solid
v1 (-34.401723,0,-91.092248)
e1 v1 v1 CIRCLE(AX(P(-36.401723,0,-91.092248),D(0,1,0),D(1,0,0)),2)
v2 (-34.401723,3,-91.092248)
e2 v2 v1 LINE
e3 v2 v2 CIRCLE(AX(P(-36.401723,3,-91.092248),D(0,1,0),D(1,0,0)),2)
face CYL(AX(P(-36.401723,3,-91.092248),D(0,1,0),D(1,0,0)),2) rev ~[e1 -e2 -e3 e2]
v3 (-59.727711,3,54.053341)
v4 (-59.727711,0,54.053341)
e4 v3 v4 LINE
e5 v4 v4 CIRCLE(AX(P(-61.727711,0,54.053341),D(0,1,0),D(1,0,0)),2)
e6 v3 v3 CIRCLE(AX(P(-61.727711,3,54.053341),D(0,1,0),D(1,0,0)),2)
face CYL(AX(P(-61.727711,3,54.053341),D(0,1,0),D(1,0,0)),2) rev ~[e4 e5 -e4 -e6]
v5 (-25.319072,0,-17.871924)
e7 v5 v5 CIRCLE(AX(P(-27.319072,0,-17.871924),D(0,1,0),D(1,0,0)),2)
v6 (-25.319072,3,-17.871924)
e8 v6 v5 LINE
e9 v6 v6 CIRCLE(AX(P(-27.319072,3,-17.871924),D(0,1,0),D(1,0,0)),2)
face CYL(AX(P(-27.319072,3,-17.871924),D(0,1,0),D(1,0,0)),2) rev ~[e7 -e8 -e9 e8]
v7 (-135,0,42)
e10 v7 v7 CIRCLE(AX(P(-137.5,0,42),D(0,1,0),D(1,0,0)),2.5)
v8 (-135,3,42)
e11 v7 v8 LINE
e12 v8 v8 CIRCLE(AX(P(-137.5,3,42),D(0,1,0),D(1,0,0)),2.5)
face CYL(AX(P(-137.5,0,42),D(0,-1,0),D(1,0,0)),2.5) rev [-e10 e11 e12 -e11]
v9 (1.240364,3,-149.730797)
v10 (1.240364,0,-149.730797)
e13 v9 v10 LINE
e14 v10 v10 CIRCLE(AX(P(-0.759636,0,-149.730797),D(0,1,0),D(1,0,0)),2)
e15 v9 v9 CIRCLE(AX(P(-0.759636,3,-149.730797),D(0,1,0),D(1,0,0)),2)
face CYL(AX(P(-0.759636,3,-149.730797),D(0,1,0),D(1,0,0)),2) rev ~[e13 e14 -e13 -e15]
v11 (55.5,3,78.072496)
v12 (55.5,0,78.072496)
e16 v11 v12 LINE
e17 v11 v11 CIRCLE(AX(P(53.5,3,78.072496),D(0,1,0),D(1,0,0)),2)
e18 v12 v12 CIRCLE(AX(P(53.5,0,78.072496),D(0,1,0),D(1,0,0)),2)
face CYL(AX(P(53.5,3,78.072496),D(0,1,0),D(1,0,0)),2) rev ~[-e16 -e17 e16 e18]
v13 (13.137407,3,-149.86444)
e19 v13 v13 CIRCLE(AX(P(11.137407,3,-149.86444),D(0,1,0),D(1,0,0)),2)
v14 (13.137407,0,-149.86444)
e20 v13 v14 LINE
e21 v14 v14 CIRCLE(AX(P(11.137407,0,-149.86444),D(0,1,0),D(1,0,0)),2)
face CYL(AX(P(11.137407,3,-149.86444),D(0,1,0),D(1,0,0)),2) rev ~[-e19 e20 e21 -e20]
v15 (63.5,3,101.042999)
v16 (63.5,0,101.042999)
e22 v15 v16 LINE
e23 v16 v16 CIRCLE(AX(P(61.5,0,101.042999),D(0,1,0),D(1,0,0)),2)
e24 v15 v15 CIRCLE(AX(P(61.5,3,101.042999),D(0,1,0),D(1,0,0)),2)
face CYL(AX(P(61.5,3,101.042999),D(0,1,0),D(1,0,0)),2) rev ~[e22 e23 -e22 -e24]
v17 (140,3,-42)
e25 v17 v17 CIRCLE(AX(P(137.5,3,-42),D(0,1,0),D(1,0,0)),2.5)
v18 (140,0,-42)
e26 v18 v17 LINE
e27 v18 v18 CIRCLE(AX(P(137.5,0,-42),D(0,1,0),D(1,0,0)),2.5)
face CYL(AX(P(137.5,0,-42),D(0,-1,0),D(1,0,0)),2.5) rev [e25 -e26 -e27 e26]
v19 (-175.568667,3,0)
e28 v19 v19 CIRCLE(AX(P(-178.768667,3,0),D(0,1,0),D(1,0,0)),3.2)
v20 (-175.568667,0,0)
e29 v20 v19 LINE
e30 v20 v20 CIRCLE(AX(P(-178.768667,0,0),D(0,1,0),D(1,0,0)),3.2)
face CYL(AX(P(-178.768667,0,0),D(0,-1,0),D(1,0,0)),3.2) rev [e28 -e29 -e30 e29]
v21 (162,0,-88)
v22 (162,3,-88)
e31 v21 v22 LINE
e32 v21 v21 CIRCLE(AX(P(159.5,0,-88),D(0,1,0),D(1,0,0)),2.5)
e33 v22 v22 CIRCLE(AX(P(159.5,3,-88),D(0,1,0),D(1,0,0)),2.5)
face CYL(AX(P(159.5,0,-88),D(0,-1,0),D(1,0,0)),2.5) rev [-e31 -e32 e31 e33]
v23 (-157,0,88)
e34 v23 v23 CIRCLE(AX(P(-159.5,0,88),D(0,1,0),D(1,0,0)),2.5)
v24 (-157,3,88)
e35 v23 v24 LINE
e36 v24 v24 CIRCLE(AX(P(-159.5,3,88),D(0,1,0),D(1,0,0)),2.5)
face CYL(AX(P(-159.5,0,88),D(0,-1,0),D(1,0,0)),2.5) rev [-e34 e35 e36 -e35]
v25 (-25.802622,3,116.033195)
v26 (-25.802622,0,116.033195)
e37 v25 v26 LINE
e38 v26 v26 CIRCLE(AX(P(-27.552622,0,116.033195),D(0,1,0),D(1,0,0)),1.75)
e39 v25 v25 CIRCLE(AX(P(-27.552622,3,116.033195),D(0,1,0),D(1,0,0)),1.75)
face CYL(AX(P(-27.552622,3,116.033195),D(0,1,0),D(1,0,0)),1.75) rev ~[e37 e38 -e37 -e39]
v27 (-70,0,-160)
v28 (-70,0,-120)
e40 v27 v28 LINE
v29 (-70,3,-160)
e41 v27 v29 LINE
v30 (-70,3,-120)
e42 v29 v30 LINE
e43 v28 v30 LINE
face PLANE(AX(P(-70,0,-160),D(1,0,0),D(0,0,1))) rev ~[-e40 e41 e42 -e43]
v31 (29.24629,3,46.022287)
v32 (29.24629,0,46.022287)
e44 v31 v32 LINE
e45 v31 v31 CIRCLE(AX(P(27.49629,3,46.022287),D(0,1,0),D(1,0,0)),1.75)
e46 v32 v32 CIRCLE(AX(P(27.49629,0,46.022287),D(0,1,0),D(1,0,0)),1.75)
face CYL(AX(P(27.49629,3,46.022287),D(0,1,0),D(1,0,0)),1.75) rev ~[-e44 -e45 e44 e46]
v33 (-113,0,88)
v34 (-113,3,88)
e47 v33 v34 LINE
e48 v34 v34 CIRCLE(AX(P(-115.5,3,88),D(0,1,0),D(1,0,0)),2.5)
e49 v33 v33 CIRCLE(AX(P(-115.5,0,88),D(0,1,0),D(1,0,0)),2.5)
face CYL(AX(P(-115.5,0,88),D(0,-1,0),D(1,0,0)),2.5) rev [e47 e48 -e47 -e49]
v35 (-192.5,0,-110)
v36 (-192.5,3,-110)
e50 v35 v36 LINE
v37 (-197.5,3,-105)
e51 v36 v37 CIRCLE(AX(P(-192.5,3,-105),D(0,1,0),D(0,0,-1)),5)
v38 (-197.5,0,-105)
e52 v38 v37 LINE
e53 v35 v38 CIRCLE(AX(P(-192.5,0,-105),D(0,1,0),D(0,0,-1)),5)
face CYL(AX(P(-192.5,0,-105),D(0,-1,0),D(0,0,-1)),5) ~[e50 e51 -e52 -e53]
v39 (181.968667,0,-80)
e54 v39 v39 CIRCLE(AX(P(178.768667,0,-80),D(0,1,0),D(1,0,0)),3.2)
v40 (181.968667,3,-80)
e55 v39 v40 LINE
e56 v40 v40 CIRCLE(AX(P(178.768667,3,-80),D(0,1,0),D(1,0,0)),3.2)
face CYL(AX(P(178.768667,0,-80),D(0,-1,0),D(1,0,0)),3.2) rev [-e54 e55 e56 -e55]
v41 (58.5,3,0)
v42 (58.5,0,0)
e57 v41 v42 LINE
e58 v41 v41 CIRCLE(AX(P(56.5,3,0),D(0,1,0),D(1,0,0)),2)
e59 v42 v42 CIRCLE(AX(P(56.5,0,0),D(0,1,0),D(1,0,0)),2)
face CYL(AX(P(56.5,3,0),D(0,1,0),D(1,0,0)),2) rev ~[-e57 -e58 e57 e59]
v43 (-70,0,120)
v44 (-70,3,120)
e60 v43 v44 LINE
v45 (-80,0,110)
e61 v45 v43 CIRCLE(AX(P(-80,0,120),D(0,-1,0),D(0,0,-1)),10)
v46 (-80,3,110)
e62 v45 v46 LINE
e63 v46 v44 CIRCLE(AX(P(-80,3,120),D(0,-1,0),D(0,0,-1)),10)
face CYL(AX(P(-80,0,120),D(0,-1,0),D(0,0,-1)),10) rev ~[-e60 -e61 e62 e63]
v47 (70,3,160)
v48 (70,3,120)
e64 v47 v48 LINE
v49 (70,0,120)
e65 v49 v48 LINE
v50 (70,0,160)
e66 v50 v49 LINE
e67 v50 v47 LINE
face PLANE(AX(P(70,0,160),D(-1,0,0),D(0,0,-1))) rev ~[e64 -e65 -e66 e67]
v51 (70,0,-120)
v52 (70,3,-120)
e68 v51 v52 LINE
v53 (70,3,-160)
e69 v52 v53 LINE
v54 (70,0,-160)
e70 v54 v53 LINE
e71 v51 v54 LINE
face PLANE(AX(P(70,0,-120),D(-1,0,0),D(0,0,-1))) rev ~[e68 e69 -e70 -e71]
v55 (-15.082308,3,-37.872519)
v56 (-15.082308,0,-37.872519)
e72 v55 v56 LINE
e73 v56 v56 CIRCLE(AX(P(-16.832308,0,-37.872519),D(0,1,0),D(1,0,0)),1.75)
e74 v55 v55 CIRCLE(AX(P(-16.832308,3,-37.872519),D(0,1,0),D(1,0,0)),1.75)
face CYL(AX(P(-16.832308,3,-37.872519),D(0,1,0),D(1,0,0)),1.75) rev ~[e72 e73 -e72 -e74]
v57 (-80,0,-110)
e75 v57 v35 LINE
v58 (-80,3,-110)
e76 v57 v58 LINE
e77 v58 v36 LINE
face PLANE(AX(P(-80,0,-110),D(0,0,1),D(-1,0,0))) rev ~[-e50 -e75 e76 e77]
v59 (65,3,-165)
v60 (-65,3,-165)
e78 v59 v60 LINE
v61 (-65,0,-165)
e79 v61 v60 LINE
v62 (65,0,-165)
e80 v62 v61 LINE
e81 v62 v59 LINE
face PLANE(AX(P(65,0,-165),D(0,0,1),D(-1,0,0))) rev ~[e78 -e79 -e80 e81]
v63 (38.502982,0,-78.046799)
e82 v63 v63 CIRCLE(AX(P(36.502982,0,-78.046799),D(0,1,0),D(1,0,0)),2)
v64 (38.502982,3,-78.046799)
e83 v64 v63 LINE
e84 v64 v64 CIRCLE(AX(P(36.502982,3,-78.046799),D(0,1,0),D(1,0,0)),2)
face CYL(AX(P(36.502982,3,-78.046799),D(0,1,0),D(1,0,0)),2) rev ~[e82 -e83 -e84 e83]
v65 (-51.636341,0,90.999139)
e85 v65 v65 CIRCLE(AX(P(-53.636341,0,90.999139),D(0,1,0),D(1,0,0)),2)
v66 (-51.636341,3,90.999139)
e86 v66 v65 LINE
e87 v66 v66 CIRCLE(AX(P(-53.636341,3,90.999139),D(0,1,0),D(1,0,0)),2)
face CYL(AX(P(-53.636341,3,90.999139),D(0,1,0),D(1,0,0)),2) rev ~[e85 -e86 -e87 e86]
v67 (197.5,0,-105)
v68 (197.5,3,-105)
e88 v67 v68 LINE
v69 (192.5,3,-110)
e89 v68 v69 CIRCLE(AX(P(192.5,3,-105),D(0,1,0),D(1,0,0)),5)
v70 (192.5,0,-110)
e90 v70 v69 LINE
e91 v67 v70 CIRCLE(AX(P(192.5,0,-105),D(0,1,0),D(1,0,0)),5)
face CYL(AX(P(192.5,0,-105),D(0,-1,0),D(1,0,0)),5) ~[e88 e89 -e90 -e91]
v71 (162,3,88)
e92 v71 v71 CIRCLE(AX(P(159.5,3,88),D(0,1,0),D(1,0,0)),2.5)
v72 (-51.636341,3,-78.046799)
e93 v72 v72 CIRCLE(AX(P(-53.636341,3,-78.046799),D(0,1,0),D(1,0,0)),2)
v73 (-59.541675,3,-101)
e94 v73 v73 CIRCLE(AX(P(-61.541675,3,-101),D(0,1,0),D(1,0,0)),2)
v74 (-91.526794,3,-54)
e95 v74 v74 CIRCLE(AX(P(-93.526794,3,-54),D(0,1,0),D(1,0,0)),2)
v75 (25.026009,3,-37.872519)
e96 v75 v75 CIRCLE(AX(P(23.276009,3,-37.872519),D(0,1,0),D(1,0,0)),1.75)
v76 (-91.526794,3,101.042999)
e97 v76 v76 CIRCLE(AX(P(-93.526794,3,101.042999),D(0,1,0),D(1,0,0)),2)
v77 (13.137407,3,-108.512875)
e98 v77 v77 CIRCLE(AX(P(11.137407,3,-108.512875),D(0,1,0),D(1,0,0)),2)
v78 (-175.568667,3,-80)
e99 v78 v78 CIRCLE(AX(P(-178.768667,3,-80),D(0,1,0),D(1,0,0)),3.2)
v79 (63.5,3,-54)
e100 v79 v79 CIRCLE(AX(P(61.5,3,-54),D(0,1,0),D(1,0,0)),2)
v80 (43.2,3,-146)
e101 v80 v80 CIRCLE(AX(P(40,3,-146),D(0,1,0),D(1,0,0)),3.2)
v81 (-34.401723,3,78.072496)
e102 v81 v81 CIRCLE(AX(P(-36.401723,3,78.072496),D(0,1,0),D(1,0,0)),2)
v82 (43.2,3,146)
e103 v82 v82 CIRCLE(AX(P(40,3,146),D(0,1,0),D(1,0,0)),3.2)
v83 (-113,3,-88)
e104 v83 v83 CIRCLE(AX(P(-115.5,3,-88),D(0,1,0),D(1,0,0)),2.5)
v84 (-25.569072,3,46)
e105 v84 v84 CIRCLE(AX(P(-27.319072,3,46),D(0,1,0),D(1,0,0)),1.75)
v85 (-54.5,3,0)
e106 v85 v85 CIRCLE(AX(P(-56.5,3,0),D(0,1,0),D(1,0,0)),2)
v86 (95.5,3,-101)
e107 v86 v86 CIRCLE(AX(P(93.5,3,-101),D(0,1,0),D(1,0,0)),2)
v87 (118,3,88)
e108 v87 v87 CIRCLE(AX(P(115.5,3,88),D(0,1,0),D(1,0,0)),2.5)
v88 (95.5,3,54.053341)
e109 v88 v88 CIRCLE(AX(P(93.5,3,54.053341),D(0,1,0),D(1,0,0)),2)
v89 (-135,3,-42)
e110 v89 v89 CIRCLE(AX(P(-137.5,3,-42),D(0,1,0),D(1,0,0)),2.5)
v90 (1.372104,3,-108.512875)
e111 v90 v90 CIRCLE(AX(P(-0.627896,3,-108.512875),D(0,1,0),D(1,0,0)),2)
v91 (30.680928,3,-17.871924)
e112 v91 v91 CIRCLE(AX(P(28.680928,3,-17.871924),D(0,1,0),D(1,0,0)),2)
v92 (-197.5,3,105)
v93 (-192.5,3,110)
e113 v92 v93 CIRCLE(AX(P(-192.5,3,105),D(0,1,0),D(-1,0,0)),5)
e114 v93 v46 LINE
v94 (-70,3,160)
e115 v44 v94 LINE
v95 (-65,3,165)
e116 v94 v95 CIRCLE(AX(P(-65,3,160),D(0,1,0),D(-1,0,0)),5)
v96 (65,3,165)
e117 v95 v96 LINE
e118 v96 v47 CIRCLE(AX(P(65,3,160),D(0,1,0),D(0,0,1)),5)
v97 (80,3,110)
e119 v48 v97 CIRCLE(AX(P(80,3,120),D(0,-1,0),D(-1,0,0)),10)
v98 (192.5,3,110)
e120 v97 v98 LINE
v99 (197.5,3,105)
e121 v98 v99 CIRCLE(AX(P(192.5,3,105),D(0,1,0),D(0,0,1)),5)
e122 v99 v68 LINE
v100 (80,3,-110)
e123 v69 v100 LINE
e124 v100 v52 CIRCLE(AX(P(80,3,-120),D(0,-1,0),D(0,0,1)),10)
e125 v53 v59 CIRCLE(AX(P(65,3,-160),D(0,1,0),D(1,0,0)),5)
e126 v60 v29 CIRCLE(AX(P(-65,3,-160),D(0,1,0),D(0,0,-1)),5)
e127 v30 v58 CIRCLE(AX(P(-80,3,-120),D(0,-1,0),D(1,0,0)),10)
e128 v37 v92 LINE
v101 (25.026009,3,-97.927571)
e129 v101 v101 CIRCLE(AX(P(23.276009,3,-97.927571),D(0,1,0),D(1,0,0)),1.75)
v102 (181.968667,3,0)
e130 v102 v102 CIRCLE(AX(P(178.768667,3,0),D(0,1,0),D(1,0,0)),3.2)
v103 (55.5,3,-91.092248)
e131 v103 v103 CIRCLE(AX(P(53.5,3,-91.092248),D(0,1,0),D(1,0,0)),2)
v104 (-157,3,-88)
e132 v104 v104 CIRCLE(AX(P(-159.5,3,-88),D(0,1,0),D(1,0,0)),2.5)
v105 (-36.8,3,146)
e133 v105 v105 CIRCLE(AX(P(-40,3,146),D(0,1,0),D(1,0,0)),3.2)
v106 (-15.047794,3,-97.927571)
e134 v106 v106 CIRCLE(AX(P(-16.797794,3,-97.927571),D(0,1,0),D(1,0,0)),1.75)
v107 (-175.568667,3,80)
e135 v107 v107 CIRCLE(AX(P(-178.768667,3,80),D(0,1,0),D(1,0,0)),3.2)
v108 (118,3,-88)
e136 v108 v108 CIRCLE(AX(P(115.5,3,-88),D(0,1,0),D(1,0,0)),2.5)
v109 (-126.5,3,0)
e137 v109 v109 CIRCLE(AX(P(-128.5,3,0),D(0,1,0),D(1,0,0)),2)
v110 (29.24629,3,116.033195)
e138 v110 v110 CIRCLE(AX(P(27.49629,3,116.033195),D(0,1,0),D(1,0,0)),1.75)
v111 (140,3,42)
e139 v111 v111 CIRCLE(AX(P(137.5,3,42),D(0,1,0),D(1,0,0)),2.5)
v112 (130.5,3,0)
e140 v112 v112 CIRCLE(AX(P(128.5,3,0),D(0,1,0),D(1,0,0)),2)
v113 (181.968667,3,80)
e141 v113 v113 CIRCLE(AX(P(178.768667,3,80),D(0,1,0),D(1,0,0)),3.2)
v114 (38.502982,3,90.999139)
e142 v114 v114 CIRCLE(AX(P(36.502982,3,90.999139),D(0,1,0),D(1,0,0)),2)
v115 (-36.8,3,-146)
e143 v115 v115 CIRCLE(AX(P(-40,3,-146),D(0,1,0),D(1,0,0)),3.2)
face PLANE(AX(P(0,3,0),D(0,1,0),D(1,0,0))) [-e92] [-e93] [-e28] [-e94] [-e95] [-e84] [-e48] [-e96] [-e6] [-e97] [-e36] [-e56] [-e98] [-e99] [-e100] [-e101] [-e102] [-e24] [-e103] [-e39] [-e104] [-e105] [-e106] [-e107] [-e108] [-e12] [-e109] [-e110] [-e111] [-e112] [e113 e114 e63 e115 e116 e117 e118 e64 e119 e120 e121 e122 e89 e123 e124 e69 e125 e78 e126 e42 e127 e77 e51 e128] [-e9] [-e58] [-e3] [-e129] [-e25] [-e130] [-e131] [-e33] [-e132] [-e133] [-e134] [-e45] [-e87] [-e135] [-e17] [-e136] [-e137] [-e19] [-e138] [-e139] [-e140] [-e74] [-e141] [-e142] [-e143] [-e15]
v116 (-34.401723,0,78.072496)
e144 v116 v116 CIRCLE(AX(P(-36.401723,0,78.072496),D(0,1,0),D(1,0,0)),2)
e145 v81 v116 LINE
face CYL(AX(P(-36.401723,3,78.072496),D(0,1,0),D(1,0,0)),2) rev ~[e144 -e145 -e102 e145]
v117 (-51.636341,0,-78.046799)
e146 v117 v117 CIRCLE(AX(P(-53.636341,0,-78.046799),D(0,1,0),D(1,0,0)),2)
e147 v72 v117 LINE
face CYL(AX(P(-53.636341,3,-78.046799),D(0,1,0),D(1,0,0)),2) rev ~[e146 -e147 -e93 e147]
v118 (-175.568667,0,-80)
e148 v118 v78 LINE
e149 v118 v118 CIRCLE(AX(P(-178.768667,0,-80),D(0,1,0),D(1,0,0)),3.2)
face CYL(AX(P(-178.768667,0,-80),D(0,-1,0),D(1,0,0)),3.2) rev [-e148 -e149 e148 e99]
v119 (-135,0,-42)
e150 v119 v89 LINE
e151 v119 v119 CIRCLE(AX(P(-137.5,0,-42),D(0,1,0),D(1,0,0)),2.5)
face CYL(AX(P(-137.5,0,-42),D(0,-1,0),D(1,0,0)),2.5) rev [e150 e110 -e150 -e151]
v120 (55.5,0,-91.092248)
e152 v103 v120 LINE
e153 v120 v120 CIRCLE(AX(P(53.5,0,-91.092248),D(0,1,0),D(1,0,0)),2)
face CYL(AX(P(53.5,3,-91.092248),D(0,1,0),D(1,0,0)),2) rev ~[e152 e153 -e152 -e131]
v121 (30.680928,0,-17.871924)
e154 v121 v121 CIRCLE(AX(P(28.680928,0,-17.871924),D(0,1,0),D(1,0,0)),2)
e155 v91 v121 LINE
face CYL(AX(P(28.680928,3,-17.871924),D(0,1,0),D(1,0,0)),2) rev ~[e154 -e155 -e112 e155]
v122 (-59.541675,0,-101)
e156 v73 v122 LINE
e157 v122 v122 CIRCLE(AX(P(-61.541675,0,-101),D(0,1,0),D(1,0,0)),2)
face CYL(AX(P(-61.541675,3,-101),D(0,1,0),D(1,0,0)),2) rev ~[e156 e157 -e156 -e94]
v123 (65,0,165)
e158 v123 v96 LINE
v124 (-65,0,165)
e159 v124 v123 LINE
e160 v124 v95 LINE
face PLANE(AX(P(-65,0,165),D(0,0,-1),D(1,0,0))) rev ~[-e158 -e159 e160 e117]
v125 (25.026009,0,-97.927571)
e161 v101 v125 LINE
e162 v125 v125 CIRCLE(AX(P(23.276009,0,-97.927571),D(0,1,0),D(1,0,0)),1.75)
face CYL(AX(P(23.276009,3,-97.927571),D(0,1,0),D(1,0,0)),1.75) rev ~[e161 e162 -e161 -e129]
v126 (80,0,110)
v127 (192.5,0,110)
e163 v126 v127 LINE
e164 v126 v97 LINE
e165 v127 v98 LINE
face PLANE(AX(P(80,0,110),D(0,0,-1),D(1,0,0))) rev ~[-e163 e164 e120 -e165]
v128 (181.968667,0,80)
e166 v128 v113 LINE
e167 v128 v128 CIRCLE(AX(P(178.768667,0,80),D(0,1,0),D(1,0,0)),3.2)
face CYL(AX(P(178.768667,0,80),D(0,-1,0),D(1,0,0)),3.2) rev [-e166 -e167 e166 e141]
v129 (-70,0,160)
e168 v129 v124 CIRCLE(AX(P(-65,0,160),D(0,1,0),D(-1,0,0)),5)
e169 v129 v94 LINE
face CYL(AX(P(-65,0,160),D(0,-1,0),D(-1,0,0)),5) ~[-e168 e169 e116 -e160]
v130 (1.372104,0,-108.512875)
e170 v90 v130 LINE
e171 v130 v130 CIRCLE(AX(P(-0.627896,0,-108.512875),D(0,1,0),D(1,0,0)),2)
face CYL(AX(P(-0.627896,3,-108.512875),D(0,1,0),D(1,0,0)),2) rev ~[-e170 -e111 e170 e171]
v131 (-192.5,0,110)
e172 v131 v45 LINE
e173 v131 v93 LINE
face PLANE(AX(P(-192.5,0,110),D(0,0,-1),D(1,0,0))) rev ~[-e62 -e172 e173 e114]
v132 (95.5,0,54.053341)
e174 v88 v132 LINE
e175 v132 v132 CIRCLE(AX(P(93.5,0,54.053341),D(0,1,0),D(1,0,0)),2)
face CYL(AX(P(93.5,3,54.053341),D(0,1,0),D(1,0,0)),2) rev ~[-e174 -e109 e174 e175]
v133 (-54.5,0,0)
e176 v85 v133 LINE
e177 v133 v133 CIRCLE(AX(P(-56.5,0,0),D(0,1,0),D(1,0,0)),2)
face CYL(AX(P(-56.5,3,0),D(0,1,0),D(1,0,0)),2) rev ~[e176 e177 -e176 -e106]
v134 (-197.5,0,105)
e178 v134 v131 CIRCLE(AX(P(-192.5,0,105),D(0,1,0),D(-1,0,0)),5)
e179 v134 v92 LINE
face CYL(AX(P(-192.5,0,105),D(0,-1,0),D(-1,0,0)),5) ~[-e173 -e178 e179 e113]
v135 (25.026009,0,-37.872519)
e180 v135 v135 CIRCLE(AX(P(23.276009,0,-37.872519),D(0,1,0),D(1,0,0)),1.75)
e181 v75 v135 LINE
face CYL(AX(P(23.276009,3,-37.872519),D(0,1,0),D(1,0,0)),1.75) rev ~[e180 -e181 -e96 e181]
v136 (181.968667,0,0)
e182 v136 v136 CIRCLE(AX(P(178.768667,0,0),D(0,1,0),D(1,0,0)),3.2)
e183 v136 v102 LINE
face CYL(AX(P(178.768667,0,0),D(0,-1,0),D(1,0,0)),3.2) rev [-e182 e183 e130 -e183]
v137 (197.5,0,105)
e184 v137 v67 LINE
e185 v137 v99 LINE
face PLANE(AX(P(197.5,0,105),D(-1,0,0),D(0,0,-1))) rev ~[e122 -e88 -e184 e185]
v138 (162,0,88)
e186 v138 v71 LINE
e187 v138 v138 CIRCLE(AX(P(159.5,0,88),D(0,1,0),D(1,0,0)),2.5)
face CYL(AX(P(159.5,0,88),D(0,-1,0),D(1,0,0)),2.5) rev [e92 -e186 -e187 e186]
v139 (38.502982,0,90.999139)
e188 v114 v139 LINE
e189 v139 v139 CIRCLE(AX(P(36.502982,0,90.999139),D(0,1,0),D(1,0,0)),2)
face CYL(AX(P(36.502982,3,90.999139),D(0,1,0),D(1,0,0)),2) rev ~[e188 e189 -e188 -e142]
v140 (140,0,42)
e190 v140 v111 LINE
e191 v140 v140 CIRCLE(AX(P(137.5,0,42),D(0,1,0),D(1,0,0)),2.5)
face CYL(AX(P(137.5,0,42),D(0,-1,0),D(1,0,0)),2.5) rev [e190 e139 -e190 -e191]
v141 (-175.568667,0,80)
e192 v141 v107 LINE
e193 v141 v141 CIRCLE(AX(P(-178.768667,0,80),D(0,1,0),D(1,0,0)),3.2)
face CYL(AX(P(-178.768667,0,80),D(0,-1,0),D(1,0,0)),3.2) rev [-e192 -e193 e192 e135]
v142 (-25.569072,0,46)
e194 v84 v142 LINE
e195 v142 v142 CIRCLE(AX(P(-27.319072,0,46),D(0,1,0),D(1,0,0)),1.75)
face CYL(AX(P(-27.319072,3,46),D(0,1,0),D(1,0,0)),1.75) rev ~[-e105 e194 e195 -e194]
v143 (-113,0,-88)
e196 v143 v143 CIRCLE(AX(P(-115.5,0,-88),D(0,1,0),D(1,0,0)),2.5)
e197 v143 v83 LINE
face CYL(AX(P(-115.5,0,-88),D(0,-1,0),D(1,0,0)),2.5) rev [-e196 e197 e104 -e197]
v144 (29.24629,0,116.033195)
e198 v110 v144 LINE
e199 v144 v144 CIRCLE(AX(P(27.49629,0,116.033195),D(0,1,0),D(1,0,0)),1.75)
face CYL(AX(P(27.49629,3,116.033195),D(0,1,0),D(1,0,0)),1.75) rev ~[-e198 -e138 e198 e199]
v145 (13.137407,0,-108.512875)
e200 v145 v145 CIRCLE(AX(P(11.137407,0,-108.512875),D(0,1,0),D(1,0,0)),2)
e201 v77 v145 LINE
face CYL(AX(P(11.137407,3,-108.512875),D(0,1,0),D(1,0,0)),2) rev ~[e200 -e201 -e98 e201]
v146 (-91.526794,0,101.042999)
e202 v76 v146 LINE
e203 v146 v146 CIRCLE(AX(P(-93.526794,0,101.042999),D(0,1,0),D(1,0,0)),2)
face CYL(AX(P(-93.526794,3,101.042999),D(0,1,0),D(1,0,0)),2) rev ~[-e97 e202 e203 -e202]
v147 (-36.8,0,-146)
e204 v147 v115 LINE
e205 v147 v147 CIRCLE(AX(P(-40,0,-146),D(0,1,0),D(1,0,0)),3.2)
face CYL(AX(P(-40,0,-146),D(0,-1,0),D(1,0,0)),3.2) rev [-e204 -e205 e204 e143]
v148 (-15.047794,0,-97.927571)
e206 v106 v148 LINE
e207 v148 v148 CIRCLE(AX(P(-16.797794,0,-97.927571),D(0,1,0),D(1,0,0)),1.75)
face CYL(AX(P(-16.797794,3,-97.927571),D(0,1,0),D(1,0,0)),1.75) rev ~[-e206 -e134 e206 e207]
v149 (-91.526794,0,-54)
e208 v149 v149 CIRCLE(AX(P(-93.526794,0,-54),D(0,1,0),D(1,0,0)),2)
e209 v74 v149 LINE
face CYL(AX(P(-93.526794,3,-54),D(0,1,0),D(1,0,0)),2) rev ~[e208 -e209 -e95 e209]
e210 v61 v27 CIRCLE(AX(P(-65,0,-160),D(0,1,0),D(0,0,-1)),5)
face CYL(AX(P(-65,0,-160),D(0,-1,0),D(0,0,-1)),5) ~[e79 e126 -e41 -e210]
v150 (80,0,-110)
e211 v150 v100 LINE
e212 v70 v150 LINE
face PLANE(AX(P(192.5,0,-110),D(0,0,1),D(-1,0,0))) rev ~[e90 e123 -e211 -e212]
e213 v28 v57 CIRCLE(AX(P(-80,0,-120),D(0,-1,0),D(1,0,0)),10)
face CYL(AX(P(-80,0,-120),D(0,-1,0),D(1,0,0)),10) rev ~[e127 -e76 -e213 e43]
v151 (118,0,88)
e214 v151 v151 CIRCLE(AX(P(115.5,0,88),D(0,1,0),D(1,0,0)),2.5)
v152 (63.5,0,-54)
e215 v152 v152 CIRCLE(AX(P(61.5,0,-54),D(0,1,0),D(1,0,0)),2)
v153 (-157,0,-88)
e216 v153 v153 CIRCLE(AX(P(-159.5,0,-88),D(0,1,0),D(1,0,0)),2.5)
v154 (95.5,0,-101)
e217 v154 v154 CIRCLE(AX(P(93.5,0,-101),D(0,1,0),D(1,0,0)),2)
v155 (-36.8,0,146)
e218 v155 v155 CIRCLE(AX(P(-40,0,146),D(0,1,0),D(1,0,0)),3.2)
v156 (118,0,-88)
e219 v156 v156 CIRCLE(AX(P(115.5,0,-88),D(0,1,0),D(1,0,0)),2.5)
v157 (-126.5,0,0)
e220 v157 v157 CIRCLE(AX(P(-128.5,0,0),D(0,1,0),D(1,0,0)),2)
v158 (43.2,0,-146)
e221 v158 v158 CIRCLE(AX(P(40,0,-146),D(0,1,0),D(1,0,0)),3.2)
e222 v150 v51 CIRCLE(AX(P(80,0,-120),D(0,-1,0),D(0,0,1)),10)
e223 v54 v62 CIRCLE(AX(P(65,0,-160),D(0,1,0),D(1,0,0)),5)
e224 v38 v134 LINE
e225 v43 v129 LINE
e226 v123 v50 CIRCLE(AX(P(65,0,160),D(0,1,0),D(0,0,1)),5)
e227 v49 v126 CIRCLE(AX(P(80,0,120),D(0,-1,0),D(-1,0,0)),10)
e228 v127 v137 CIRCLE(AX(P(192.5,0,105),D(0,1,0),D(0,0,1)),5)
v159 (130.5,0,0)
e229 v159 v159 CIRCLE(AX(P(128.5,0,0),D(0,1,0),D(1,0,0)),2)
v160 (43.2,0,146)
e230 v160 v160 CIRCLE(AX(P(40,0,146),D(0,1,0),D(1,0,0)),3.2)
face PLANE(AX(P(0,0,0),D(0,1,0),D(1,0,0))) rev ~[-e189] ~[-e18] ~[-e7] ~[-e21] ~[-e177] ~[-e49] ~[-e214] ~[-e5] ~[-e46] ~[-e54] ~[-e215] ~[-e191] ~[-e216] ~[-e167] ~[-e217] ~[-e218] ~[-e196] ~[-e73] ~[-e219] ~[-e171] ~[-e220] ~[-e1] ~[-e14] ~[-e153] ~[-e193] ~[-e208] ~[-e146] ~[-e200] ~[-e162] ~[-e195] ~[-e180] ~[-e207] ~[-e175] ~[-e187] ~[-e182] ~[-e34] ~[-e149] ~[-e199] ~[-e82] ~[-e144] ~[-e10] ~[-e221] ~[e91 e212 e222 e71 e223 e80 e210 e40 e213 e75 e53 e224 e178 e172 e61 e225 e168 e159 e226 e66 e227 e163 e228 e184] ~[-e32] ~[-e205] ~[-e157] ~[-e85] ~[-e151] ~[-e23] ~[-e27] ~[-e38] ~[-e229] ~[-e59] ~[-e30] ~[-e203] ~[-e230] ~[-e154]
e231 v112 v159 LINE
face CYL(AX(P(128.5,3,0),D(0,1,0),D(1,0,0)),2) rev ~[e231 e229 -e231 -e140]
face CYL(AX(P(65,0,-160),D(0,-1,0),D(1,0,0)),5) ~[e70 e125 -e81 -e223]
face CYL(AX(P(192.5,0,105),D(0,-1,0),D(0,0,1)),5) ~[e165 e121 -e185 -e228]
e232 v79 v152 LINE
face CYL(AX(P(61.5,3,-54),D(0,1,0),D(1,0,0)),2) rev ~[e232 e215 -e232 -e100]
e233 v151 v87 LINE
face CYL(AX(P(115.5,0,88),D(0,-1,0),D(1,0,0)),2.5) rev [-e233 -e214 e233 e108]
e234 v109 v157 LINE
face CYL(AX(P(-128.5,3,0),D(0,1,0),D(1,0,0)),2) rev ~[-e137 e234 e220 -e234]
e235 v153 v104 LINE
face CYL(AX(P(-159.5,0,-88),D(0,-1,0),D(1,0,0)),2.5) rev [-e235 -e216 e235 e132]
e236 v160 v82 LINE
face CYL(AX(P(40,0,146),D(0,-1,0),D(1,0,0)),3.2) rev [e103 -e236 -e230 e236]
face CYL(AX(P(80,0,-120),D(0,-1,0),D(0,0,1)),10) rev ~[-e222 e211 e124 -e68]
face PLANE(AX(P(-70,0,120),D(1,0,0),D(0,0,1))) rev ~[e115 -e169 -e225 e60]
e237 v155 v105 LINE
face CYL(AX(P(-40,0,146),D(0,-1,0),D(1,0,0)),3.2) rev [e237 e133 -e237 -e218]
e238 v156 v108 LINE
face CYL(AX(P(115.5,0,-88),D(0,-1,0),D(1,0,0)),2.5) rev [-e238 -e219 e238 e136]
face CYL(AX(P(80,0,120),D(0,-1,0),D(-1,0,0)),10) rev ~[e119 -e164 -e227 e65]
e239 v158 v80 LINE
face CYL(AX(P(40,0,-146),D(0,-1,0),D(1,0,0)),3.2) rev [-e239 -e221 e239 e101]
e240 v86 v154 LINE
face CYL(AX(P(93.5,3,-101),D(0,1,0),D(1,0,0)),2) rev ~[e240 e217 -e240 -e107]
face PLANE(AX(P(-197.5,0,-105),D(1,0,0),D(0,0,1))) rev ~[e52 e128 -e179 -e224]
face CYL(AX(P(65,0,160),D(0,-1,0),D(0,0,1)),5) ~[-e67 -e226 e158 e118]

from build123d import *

# Parameters (mm, degrees)
SKETCH_1_R          = 3.2
SKETCH_1_R_2        = 2.5
EXTRUDE_1_DEPTH     = 3
SKETCH_2_R          = 2
SKETCH_2_R_2        = 1.75
CUT_EXTRUDE_1_DEPTH = 10


with BuildPart() as part:
    # Эскиз1 → Бобышка-Вытянуть1 (new body)
    with BuildSketch(Plane(origin=(0, 0, 0), x_dir=(1, 0, 0), z_dir=(0, 1, 0))):
        with BuildLine():
            Line((-65, -165), (65, -165))
            ThreePointArc((65, -165), (68.535533906, -163.535533906), (70, -160))
            Line((70, -160), (70, -120))
            ThreePointArc((70, -120), (72.928932188, -112.928932188), (80, -110))
            Line((80, -110), (192.5, -110))
            ThreePointArc((192.5, -110), (196.035533906, -108.535533906), (197.5, -105))
            Line((197.5, -105), (197.5, 105))
            ThreePointArc((197.5, 105), (196.035533906, 108.535533906), (192.5, 110))
            Line((192.5, 110), (80, 110))
            ThreePointArc((80, 110), (72.928932188, 112.928932188), (70, 120))
            Line((70, 120), (70, 160))
            ThreePointArc((70, 160), (68.535533906, 163.535533906), (65, 165))
            Line((65, 165), (-65, 165))
            ThreePointArc((-65, 165), (-68.535533906, 163.535533906), (-70, 160))
            Line((-70, 160), (-70, 120))
            ThreePointArc((-70, 120), (-72.928932188, 112.928932188), (-80, 110))
            Line((-80, 110), (-192.5, 110))
            ThreePointArc((-192.5, 110), (-196.035533906, 108.535533906), (-197.5, 105))
            Line((-197.5, 105), (-197.5, -105))
            ThreePointArc((-197.5, -105), (-196.035533906, -108.535533906), (-192.5, -110))
            Line((-192.5, -110), (-80, -110))
            ThreePointArc((-80, -110), (-72.928932188, -112.928932188), (-70, -120))
            Line((-70, -120), (-70, -160))
            ThreePointArc((-70, -160), (-68.535533906, -163.535533906), (-65, -165))
        make_face()
        with Locations((40, 146)):
            Circle(SKETCH_1_R, mode=Mode.SUBTRACT)
        with Locations((40, -146)):
            Circle(SKETCH_1_R, mode=Mode.SUBTRACT)
        with Locations((-40, -146)):
            Circle(SKETCH_1_R, mode=Mode.SUBTRACT)
        with Locations((-40, 146)):
            Circle(SKETCH_1_R, mode=Mode.SUBTRACT)
        with Locations((-178.768667216, 80)):
            Circle(SKETCH_1_R, mode=Mode.SUBTRACT)
        with Locations((-178.768667216, -80)):
            Circle(SKETCH_1_R, mode=Mode.SUBTRACT)
        with Locations((-178.768667216, 0)):
            Circle(SKETCH_1_R, mode=Mode.SUBTRACT)
        with Locations((178.768667216, 80)):
            Circle(SKETCH_1_R, mode=Mode.SUBTRACT)
        with Locations((178.768667216, 0)):
            Circle(SKETCH_1_R, mode=Mode.SUBTRACT)
        with Locations((178.768667216, -80)):
            Circle(SKETCH_1_R, mode=Mode.SUBTRACT)
        with Locations((137.5, -42)):
            Circle(SKETCH_1_R_2, mode=Mode.SUBTRACT)
        with Locations((159.5, -88)):
            Circle(SKETCH_1_R_2, mode=Mode.SUBTRACT)
        with Locations((115.5, -88)):
            Circle(SKETCH_1_R_2, mode=Mode.SUBTRACT)
        with Locations((-159.5, -88)):
            Circle(SKETCH_1_R_2, mode=Mode.SUBTRACT)
        with Locations((-137.5, -42)):
            Circle(SKETCH_1_R_2, mode=Mode.SUBTRACT)
        with Locations((-115.5, -88)):
            Circle(SKETCH_1_R_2, mode=Mode.SUBTRACT)
        with Locations((159.5, 88)):
            Circle(SKETCH_1_R_2, mode=Mode.SUBTRACT)
        with Locations((137.5, 42)):
            Circle(SKETCH_1_R_2, mode=Mode.SUBTRACT)
        with Locations((115.5, 88)):
            Circle(SKETCH_1_R_2, mode=Mode.SUBTRACT)
        with Locations((-115.5, 88)):
            Circle(SKETCH_1_R_2, mode=Mode.SUBTRACT)
        with Locations((-137.5, 42)):
            Circle(SKETCH_1_R_2, mode=Mode.SUBTRACT)
        with Locations((-159.5, 88)):
            Circle(SKETCH_1_R_2, mode=Mode.SUBTRACT)
    extrude(amount=EXTRUDE_1_DEPTH)

    # Эскиз2 → Вырез-Вытянуть1 (cut)
    with BuildSketch(Plane(origin=(0, 3, 0), x_dir=(1, 0, 0), z_dir=(0, 1, 0))):
        with Locations((128.5, 0)):
            Circle(SKETCH_2_R)
        with Locations((56.5, 0)):
            Circle(SKETCH_2_R)
        with Locations((93.5, 101)):
            Circle(SKETCH_2_R)
        with Locations((61.5, 54)):
            Circle(SKETCH_2_R)
        with Locations((53.5, 91.092247848)):
            Circle(SKETCH_2_R)
        with Locations((36.502982491, 78.046799413)):
            Circle(SKETCH_2_R)
        with Locations((28.680928288, 17.871923503)):
            Circle(SKETCH_2_R)
        with Locations((-27.319071712, 17.871923503)):
            Circle(SKETCH_2_R)
        with Locations((27.496289721, -46.022287392)):
            Circle(SKETCH_2_R_2)
        with Locations((93.5, -54.053341302)):
            Circle(SKETCH_2_R)
        with Locations((61.5, -101.042998556)):
            Circle(SKETCH_2_R)
        with Locations((53.5, -78.07249598)):
            Circle(SKETCH_2_R)
        with Locations((36.502982491, -90.999139468)):
            Circle(SKETCH_2_R)
        with Locations((27.496289721, -116.033195429)):
            Circle(SKETCH_2_R_2)
        with Locations((-27.552622159, -116.033195429)):
            Circle(SKETCH_2_R_2)
        with Locations((-27.319071712, -46)):
            Circle(SKETCH_2_R_2)
        with Locations((-53.636340651, -90.999139468)):
            Circle(SKETCH_2_R)
        with Locations((-36.401722668, -78.07249598)):
            Circle(SKETCH_2_R)
        with Locations((-93.526794479, -101.042998556)):
            Circle(SKETCH_2_R)
        with Locations((-61.727710595, -54.053341302)):
            Circle(SKETCH_2_R)
        with Locations((-36.401722668, 91.092247848)):
            Circle(SKETCH_2_R)
        with Locations((-53.636340651, 78.046799413)):
            Circle(SKETCH_2_R)
        with Locations((-61.541675198, 101)):
            Circle(SKETCH_2_R)
        with Locations((-93.526794479, 54)):
            Circle(SKETCH_2_R)
        with Locations((-128.5, 0)):
            Circle(SKETCH_2_R)
        with Locations((-56.5, 0)):
            Circle(SKETCH_2_R)
        with Locations((-16.832308482, 37.872518528)):
            Circle(SKETCH_2_R_2)
        with Locations((-16.797794126, 97.927570988)):
            Circle(SKETCH_2_R_2)
        with Locations((23.276008527, 97.927570988)):
            Circle(SKETCH_2_R_2)
        with Locations((23.276008527, 37.872518528)):
            Circle(SKETCH_2_R_2)
        with Locations((-0.75963633, 149.730797231)):
            Circle(SKETCH_2_R)
        with Locations((11.137406716, 149.864440097)):
            Circle(SKETCH_2_R)
        with Locations((11.137406716, 108.512875125)):
            Circle(SKETCH_2_R)
        with Locations((-0.627896327, 108.512875125)):
            Circle(SKETCH_2_R)
    extrude(amount=-CUT_EXTRUDE_1_DEPTH, mode=Mode.SUBTRACT)


solid = part.part
